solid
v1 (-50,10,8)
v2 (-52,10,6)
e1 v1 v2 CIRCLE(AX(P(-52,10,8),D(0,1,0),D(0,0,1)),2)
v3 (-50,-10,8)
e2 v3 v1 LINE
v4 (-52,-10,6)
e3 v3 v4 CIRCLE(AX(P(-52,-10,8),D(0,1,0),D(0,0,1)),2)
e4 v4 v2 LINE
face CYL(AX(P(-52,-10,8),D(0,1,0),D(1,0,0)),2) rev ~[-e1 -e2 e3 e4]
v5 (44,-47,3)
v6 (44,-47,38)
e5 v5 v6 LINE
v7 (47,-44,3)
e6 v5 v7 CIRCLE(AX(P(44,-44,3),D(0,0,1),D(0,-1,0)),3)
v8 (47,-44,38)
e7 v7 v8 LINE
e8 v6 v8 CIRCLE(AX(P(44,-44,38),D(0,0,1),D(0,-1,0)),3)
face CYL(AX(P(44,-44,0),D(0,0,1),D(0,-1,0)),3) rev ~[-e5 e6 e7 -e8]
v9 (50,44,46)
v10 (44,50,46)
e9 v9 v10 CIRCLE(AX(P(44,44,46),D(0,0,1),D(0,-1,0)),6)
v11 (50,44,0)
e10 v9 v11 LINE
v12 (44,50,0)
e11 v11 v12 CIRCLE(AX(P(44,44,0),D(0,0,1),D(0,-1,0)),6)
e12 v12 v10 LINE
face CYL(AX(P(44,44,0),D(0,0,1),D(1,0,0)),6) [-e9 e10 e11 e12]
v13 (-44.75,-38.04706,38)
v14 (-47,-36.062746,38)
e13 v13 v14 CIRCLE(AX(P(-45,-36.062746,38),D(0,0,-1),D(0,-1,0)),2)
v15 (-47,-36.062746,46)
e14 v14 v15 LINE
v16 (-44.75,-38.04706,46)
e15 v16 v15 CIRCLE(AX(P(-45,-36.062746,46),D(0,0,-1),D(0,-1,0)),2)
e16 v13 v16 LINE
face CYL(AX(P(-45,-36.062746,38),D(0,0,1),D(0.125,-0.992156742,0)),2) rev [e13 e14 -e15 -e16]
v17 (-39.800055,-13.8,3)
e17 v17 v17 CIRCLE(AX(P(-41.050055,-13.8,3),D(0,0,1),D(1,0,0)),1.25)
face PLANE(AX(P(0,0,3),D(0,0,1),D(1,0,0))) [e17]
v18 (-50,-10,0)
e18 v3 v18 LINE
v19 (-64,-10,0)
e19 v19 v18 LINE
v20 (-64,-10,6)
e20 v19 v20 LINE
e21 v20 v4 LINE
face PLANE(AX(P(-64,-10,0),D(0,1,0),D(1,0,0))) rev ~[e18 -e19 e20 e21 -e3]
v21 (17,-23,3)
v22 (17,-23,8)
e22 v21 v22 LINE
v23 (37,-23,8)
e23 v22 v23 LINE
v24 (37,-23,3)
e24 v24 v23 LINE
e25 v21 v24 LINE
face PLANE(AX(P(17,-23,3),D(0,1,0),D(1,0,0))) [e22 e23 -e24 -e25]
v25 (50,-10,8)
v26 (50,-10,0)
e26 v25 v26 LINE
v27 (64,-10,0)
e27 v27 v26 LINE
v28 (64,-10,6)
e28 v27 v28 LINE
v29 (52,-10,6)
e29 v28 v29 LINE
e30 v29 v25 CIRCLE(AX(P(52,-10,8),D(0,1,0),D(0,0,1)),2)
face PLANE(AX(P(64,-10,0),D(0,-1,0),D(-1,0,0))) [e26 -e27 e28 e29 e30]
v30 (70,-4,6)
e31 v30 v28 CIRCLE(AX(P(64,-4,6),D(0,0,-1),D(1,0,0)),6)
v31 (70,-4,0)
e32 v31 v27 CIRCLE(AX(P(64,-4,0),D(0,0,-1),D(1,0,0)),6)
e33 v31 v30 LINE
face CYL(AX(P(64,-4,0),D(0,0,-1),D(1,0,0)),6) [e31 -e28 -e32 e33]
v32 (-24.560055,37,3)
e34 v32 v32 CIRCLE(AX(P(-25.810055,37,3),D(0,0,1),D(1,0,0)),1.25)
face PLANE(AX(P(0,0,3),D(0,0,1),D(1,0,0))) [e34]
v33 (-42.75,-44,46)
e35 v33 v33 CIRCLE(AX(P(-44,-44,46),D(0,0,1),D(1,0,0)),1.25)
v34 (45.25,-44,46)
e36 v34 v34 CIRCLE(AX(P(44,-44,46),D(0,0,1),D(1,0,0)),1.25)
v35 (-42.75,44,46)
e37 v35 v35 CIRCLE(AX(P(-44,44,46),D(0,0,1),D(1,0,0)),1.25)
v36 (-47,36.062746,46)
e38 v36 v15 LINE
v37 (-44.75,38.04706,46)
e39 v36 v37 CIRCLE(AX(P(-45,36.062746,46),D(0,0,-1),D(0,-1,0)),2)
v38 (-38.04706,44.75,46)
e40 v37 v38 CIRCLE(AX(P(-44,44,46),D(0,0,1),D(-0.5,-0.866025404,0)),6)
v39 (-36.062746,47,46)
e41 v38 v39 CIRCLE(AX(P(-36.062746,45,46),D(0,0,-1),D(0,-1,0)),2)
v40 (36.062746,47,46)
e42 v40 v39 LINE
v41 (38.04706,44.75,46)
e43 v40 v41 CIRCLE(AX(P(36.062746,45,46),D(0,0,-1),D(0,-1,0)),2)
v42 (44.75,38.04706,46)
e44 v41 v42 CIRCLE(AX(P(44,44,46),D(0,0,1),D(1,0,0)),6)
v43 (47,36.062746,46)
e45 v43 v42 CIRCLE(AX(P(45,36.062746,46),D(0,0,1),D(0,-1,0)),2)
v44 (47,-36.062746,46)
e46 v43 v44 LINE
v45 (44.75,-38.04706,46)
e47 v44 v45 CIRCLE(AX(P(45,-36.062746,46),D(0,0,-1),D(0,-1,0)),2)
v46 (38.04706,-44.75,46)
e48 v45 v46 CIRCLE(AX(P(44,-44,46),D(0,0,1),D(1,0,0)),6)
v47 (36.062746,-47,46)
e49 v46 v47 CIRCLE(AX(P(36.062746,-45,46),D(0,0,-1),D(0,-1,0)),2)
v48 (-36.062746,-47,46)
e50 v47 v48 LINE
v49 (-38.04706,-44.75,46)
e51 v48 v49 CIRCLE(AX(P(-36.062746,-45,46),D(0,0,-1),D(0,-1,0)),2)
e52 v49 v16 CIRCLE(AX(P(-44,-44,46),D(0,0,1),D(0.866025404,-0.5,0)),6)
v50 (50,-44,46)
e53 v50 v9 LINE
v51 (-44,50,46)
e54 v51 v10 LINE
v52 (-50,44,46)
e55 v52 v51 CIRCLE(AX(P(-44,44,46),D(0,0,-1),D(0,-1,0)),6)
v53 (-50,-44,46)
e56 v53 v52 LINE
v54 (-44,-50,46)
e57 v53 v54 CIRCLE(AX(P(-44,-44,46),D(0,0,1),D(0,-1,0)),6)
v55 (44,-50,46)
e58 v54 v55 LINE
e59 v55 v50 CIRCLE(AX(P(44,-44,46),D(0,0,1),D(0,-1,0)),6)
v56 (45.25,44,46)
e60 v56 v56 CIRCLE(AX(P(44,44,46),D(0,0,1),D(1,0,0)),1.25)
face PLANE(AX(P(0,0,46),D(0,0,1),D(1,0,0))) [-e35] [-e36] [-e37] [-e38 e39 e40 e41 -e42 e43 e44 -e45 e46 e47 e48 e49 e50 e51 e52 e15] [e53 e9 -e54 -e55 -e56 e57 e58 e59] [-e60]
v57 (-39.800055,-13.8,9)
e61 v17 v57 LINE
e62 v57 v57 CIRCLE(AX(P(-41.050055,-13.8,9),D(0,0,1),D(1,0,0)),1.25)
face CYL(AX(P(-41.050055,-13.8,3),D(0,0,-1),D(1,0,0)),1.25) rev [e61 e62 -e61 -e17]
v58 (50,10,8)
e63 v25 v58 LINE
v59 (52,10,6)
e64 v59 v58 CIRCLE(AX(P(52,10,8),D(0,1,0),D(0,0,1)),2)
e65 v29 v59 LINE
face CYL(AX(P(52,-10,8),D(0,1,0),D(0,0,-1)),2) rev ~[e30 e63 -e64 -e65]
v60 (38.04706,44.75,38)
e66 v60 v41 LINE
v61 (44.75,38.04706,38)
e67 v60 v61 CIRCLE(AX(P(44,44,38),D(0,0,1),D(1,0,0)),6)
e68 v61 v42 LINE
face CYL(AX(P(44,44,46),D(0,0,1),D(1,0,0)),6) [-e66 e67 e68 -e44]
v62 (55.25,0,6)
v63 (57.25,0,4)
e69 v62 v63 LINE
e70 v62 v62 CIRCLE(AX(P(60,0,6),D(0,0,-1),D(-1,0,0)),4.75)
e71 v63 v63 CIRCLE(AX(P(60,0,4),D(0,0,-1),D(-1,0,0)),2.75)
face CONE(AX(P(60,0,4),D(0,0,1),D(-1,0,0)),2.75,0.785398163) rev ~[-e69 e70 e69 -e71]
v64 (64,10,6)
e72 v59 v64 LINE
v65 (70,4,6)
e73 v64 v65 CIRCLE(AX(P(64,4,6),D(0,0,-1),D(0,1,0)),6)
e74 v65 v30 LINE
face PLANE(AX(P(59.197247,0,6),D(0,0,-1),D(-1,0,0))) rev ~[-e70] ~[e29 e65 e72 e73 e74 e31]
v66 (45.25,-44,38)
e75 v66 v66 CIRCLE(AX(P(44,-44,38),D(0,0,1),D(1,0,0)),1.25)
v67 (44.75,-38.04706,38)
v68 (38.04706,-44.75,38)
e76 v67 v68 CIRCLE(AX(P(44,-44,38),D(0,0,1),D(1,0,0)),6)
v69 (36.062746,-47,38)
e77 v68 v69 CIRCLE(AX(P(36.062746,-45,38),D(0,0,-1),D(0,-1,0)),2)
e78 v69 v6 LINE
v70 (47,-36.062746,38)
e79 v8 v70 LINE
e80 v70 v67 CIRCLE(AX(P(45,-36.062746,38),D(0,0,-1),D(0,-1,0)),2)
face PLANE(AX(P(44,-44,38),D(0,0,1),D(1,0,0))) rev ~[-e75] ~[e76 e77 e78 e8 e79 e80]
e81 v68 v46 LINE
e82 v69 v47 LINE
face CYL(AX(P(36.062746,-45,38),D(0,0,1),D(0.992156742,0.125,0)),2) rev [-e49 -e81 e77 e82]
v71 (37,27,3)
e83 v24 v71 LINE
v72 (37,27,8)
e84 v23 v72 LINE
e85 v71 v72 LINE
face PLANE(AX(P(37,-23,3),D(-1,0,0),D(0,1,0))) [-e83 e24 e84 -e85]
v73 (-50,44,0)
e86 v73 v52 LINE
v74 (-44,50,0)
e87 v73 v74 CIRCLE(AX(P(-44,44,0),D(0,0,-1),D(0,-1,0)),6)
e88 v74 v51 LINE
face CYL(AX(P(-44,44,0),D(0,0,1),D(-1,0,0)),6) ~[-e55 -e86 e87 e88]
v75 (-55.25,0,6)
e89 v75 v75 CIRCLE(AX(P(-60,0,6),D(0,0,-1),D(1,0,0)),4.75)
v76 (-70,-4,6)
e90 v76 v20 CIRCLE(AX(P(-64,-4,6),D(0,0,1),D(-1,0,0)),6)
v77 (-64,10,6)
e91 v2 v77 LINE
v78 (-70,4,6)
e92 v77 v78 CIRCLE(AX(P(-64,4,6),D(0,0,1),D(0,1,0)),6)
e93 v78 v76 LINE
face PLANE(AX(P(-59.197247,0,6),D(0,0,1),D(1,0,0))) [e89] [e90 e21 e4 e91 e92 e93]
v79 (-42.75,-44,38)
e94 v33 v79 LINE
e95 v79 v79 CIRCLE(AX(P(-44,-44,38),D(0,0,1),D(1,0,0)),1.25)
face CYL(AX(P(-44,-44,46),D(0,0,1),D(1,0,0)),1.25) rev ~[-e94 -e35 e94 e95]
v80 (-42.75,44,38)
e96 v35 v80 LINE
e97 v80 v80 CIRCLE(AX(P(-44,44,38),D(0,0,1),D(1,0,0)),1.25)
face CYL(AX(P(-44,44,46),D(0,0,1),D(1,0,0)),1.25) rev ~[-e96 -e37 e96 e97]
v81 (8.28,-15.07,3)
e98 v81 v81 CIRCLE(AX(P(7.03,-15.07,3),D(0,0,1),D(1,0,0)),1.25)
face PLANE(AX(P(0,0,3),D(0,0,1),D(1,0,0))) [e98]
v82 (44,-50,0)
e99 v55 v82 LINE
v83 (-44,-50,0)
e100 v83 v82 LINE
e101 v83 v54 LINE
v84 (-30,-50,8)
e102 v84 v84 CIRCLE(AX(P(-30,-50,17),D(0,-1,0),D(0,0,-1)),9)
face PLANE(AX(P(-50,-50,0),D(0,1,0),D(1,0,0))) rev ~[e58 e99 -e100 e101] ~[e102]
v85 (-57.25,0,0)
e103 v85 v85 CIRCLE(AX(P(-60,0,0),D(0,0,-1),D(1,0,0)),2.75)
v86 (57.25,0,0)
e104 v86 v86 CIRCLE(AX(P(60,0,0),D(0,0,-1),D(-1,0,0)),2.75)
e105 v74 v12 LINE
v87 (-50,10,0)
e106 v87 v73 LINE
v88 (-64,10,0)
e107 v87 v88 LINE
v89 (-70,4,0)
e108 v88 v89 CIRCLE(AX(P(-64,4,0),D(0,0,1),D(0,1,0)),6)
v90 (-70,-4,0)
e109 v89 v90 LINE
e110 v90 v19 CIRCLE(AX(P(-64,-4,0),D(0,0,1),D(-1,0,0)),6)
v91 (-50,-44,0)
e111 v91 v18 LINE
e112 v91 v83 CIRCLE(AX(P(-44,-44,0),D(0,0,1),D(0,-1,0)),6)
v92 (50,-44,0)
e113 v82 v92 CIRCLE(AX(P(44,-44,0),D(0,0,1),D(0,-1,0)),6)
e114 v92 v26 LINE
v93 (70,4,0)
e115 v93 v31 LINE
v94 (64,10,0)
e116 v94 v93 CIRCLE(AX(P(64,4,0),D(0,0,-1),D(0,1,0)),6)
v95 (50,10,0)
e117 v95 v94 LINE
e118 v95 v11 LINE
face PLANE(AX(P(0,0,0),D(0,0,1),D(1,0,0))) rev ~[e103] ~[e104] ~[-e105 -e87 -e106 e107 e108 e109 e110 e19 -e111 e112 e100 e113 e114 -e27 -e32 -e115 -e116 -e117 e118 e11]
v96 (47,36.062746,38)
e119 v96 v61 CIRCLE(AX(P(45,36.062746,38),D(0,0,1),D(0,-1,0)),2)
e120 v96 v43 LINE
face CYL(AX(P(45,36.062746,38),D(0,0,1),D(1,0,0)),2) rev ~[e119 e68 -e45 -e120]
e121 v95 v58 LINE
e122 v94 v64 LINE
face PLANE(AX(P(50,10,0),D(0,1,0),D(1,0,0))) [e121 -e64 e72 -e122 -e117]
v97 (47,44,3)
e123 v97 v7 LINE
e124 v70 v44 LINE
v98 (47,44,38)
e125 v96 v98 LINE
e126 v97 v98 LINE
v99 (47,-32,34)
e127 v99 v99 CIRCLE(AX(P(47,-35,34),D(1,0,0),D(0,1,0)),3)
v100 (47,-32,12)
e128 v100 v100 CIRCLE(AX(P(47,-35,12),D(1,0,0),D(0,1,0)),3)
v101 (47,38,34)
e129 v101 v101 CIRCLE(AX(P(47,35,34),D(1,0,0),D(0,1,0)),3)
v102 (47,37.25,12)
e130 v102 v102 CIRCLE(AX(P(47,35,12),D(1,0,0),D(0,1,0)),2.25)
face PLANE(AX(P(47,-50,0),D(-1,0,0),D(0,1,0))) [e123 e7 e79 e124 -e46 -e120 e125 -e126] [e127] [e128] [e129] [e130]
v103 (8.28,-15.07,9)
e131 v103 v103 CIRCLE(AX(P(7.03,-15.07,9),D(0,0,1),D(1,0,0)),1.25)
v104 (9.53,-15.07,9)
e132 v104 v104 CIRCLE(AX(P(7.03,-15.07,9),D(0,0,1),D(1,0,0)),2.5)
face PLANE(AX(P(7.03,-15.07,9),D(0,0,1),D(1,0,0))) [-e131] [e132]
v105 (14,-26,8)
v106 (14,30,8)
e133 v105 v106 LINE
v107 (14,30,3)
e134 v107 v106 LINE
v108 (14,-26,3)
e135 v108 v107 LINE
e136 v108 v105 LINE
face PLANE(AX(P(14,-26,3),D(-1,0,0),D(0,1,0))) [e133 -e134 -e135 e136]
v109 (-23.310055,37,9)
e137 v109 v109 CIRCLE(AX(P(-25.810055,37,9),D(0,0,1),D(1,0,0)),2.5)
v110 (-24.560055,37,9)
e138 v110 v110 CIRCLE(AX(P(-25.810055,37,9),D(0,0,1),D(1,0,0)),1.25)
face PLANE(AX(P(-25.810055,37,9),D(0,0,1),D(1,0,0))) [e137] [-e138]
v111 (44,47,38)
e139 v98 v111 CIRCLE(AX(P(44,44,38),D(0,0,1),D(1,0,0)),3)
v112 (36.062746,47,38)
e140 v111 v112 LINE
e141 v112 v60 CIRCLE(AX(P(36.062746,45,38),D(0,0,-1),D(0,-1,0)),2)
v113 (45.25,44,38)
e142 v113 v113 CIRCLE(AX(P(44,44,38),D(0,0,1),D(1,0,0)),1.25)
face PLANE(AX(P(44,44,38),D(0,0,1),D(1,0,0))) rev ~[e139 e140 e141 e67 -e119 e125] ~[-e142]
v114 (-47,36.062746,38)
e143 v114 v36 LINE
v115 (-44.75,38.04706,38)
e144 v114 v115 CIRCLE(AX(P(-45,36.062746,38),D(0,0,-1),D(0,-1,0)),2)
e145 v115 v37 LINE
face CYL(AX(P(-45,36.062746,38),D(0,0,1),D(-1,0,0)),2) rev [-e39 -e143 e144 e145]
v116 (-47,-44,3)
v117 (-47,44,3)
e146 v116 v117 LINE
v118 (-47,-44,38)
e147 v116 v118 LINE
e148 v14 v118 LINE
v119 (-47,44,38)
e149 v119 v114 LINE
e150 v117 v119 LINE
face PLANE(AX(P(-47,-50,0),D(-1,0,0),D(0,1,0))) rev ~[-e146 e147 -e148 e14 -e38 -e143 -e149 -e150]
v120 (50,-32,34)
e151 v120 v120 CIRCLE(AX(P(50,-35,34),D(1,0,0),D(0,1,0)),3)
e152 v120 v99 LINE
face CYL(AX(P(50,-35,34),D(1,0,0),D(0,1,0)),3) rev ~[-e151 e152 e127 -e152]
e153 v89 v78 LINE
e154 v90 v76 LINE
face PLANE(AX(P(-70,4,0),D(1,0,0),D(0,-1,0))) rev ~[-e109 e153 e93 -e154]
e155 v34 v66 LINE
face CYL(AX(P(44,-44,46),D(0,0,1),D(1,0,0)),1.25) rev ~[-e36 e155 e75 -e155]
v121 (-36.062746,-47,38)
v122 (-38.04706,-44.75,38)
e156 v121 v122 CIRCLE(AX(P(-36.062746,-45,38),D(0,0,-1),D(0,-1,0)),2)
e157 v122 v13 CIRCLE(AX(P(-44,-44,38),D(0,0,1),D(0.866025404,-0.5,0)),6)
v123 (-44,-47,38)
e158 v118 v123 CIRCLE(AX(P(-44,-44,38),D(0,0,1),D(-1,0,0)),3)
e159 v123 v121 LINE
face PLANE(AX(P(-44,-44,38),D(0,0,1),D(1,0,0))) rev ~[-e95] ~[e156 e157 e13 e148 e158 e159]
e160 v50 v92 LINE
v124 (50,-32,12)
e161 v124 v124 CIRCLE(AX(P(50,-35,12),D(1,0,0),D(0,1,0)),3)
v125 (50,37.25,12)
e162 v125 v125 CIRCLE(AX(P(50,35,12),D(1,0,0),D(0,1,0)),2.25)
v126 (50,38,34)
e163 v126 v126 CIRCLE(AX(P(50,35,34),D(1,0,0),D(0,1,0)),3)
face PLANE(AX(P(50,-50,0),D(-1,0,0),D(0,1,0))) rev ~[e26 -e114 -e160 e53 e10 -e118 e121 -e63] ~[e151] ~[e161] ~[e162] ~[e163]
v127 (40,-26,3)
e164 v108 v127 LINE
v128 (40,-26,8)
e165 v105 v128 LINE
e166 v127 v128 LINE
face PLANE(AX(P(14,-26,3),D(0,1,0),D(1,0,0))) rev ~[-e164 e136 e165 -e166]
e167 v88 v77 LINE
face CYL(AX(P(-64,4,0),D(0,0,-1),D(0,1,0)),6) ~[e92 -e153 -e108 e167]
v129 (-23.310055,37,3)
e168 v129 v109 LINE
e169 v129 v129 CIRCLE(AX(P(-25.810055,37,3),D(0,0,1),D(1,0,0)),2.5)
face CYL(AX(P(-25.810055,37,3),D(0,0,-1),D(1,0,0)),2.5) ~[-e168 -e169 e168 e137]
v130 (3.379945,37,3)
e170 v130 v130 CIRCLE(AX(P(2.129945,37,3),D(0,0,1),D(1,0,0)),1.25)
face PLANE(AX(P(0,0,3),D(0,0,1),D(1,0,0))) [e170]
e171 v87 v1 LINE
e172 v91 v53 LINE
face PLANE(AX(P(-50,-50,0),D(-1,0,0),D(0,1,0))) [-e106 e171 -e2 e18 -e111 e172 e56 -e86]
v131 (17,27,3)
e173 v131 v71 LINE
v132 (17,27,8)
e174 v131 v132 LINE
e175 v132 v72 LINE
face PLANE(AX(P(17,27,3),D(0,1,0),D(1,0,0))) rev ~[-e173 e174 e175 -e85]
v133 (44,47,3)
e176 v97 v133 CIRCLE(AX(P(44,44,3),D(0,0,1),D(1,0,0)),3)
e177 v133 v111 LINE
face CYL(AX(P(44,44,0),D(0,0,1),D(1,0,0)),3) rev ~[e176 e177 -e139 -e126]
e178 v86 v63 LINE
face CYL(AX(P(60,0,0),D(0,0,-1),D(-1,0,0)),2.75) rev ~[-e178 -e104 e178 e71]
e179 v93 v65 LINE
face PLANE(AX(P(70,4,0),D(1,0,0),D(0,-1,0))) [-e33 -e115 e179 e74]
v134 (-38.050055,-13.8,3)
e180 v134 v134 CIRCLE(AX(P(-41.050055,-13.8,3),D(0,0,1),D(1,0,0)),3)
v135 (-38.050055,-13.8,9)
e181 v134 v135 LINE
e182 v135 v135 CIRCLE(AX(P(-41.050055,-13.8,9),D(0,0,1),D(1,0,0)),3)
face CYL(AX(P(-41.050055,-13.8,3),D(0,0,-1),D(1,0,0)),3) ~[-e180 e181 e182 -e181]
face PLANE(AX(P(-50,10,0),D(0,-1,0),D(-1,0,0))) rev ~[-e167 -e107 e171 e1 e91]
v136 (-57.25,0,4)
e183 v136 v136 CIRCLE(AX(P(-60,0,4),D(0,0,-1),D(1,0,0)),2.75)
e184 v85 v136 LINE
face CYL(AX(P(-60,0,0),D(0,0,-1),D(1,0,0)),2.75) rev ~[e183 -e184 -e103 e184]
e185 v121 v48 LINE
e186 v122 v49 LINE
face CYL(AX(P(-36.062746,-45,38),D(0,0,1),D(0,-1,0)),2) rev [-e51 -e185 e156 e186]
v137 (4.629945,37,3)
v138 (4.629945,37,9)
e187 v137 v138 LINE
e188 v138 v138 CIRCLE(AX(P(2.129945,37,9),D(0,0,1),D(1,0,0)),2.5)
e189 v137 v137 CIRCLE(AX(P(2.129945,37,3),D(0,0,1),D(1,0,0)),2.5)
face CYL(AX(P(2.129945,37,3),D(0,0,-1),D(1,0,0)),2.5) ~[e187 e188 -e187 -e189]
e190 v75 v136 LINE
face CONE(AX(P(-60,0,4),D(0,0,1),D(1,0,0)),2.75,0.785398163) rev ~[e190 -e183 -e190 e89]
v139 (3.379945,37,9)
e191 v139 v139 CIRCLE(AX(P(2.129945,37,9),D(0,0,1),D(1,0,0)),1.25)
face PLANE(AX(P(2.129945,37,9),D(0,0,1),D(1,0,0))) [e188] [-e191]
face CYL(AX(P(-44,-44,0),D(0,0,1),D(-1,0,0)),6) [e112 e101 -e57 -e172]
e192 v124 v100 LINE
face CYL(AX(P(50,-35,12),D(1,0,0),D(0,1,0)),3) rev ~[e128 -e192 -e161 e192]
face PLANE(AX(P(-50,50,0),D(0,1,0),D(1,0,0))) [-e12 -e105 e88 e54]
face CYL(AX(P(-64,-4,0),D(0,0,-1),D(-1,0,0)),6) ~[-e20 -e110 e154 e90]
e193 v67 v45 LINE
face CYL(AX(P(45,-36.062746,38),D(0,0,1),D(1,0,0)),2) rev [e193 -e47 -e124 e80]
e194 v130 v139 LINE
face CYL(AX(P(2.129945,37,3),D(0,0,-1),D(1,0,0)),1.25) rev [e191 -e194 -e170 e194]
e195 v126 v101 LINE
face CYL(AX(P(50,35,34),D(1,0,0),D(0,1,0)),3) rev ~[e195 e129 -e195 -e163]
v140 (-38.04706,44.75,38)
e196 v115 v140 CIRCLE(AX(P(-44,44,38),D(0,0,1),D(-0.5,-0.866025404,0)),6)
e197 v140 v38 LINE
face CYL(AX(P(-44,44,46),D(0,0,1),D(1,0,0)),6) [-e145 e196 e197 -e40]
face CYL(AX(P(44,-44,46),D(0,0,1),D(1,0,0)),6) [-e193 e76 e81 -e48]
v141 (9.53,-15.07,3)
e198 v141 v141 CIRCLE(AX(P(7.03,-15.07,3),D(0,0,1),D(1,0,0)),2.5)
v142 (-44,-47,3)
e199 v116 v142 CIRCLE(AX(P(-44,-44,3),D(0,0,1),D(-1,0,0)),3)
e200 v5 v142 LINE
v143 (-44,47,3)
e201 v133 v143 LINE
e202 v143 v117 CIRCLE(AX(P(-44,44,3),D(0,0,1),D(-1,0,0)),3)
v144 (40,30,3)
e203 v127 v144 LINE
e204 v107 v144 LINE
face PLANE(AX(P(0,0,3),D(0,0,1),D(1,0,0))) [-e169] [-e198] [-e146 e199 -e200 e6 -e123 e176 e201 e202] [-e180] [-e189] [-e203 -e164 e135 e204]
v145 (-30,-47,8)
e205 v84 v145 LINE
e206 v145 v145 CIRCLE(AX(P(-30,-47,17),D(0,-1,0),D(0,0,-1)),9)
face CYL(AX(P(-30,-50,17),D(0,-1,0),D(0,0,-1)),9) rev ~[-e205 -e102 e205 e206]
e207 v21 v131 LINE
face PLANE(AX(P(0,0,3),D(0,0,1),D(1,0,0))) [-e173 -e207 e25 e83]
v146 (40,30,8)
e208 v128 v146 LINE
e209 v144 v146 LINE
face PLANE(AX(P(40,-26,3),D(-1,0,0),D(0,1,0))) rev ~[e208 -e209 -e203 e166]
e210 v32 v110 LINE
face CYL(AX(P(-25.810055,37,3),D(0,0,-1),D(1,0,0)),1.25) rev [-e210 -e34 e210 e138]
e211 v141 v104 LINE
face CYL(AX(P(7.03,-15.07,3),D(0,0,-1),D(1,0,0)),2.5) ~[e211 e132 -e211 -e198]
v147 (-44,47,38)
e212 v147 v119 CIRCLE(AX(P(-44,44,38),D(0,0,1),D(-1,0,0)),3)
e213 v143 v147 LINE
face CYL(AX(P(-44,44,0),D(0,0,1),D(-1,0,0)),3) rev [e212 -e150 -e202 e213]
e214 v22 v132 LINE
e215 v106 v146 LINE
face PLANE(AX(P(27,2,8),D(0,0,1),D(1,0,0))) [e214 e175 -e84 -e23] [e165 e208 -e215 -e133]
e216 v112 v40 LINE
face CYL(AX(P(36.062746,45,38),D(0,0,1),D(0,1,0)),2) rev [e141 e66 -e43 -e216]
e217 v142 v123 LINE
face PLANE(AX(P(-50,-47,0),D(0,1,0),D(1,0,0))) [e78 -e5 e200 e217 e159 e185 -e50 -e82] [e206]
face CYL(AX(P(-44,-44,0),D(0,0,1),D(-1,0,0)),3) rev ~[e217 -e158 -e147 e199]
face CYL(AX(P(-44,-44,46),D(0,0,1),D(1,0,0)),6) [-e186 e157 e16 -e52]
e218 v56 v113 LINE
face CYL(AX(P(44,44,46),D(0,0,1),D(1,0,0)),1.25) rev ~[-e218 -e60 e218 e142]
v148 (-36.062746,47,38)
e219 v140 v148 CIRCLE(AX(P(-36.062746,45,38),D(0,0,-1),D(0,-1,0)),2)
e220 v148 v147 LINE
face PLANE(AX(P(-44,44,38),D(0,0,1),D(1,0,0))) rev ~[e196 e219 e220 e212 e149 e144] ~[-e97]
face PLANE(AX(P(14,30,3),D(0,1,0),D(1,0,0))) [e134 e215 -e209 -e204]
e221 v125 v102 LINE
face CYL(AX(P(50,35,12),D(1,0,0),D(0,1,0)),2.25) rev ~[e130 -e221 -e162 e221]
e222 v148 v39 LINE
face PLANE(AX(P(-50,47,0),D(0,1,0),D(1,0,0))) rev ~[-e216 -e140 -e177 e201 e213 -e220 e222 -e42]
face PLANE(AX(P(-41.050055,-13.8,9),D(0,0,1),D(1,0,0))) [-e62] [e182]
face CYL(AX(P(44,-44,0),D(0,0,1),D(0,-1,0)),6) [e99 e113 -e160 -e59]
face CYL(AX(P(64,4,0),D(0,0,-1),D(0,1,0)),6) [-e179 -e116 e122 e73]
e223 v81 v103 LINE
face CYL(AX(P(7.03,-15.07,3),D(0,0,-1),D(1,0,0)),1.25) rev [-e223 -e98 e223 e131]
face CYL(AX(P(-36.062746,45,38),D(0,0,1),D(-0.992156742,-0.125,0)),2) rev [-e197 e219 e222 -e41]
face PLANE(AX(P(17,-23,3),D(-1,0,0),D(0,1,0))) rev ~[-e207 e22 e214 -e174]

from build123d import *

# Parameters (mm, degrees)
SKETCH1_W           = 100
SKETCH1_H           = 100
BOSS_EXTRUDE1_DEPTH = 46
FILLET1_R           = 6
SHELL1_T            = -3
SKETCH2_R           = 3
SKETCH2_R_2         = 2.25
CUT_EXTRUDE1_DEPTH  = 10
SKETCH3_W           = 26
SKETCH3_H           = 56
SKETCH3_W_2         = 20
SKETCH3_H_2         = 50
BOSS_EXTRUDE2_DEPTH = 5
SKETCH4_R           = 2.5
SKETCH4_R_2         = 1.25
SKETCH4_R_3         = 3
BOSS_EXTRUDE3_DEPTH = 6
SKETCH5_R           = 9
CUT_EXTRUDE2_DEPTH  = 6
SKETCH6_R           = 6
SKETCH6_R_2         = 1.25
BOSS_EXTRUDE4_DEPTH = 8
SKETCH7_R           = 2.75
BOSS_EXTRUDE5_DEPTH = 6
CHAMFER1_SIZE       = 2
FILLET2_R           = 2


with BuildPart() as part:
    # Sketch1 → Boss-Extrude1 (new body)
    with BuildSketch(Plane.XY):
        Rectangle(SKETCH1_W, SKETCH1_H)
    extrude(amount=BOSS_EXTRUDE1_DEPTH)

    # Fillet1
    fillet1_edges = [part.edges().sort_by_distance(p)[0] for p in [
        (50, -50, 23),
        (-50, -50, 23),
        (-50, 50, 23),
        (50, 50, 23),
    ]]
    fillet(fillet1_edges, radius=FILLET1_R)

    # Shell1
    shell1_openings = [part.faces().sort_by_distance(p)[0] for p in [
        (0, 0, 46),
    ]]
    offset(amount=SHELL1_T, openings=shell1_openings, kind=Kind.INTERSECTION)

    # Sketch2 → Cut-Extrude1 (cut)
    with BuildSketch(Plane(origin=(50, 0, 0), x_dir=(0, 0, -1), z_dir=(1, 0, 0))):
        with Locations(Location((-34, 35, 0), (0, 0, 90))):
            Circle(SKETCH2_R)
        with Locations(Location((-34, -35, 0), (0, 0, 90))):
            Circle(SKETCH2_R)
        with Locations(Location((-12, -35, 0), (0, 0, 90))):
            Circle(SKETCH2_R)
        with Locations(Location((-12, 35, 0), (0, 0, 90))):
            Circle(SKETCH2_R_2)
    extrude(amount=-CUT_EXTRUDE1_DEPTH, mode=Mode.SUBTRACT)

    # Sketch3 → Boss-Extrude2 (add)
    with BuildSketch(Plane.XY.offset(3)):
        with Locations((27, 2)):
            Rectangle(SKETCH3_W, SKETCH3_H)
        with Locations((27, 2)):
            Rectangle(SKETCH3_W_2, SKETCH3_H_2, mode=Mode.SUBTRACT)
    extrude(amount=BOSS_EXTRUDE2_DEPTH)

    # Sketch4 → Boss-Extrude3 (add)
    # profile 1 of 4: a face of its own
    with BuildSketch(Plane.XY.offset(3)):
        with Locations((-25.81005519, 37)):
            Circle(SKETCH4_R)
        with Locations((-25.81005519, 37)):
            Circle(SKETCH4_R_2, mode=Mode.SUBTRACT)
    # profile 2 of 4: a face of its own
    with BuildSketch(Plane.XY.offset(3)):
        with Locations((2.12994481, 37)):
            Circle(SKETCH4_R)
        with Locations((2.12994481, 37)):
            Circle(SKETCH4_R_2, mode=Mode.SUBTRACT)
    # profile 3 of 4: a face of its own
    with BuildSketch(Plane.XY.offset(3)):
        with Locations((7.03, -15.07)):
            Circle(SKETCH4_R)
        with Locations((7.03, -15.07)):
            Circle(SKETCH4_R_2, mode=Mode.SUBTRACT)
    # profile 4 of 4: a face of its own
    with BuildSketch(Plane.XY.offset(3)):
        with Locations((-41.05005519, -13.8)):
            Circle(SKETCH4_R_3)
        with Locations((-41.05005519, -13.8)):
            Circle(SKETCH4_R_2, mode=Mode.SUBTRACT)
    extrude(amount=BOSS_EXTRUDE3_DEPTH)

    # Sketch5 → Cut-Extrude2 (cut)
    with BuildSketch(Plane.XZ.offset(50)):
        with Locations(Location((-30, 17, 0), (0, 0, 270))):
            Circle(SKETCH5_R)
    extrude(amount=-CUT_EXTRUDE2_DEPTH, mode=Mode.SUBTRACT)

    # Sketch6 → Boss-Extrude4 (add)
    # profile 1 of 4: a face of its own
    with BuildSketch(Plane.XY.offset(46)):
        with Locations((44, 44)):
            Circle(SKETCH6_R)
        with Locations((44, 44)):
            Circle(SKETCH6_R_2, mode=Mode.SUBTRACT)
    # profile 2 of 4: a face of its own
    with BuildSketch(Plane.XY.offset(46)):
        with Locations((44, -44)):
            Circle(SKETCH6_R)
        with Locations((44, -44)):
            Circle(SKETCH6_R_2, mode=Mode.SUBTRACT)
    # profile 3 of 4: a face of its own
    with BuildSketch(Plane.XY.offset(46)):
        with Locations((-44, -44)):
            Circle(SKETCH6_R)
        with Locations((-44, -44)):
            Circle(SKETCH6_R_2, mode=Mode.SUBTRACT)
    # profile 4 of 4: a face of its own
    with BuildSketch(Plane.XY.offset(46)):
        with Locations((-44, 44)):
            Circle(SKETCH6_R)
        with Locations((-44, 44)):
            Circle(SKETCH6_R_2, mode=Mode.SUBTRACT)
    extrude(amount=-BOSS_EXTRUDE4_DEPTH)

    # Sketch7 → Boss-Extrude5 (add)
    # profile 1 of 2: a face of its own
    with BuildSketch(Plane(origin=(0, 0, 0), x_dir=(-1, 0, 0), z_dir=(0, 0, -1))):
        with BuildLine():
            Line((-50, 10), (-64, 10))
            ThreePointArc((-64, 10), (-68.242640687, 8.242640687), (-70, 4))
            Line((-70, 4), (-70, -4))
            ThreePointArc((-70, -4), (-68.242640687, -8.242640687), (-64, -10))
            Line((-64, -10), (-50, -10))
            Line((-50, -10), (-50, 10))
        make_face()
        with Locations((-60, 0)):
            Circle(SKETCH7_R, mode=Mode.SUBTRACT)
    # profile 2 of 2: a face of its own
    with BuildSketch(Plane(origin=(0, 0, 0), x_dir=(-1, 0, 0), z_dir=(0, 0, -1))):
        with BuildLine():
            Line((70, 4), (70, -4))
            ThreePointArc((70, -4), (68.242640687, -8.242640687), (64, -10))
            Line((64, -10), (50, -10))
            Line((50, -10), (50, 10))
            Line((50, 10), (64, 10))
            ThreePointArc((64, 10), (68.242640687, 8.242640687), (70, 4))
        make_face()
        with Locations(Location((60, 0, 0), (0, 0, 180))):
            Circle(SKETCH7_R, mode=Mode.SUBTRACT)
    extrude(amount=-BOSS_EXTRUDE5_DEPTH)

    # Chamfer1
    chamfer1_edges = [part.edges().sort_by_distance(p)[0] for p in [
        (62.75, 0, 6),
        (-62.75, 0, 6),
    ]]
    chamfer(chamfer1_edges, length=CHAMFER1_SIZE)

    # Fillet2
    fillet2_edges = [part.edges().sort_by_distance(p)[0] for p in [
        (38.803847577, 47, 42),
        (47, 38.803847577, 42),
        (38.803847577, -47, 42),
        (47, -38.803847577, 42),
        (-38.803847577, -47, 42),
        (-47, -38.803847577, 42),
        (-47, 38.803847577, 42),
        (-38.803847577, 47, 42),
        (50, 0, 6),
        (-50, 0, 6),
    ]]
    fillet(fillet2_edges, radius=FILLET2_R)


solid = part.part
